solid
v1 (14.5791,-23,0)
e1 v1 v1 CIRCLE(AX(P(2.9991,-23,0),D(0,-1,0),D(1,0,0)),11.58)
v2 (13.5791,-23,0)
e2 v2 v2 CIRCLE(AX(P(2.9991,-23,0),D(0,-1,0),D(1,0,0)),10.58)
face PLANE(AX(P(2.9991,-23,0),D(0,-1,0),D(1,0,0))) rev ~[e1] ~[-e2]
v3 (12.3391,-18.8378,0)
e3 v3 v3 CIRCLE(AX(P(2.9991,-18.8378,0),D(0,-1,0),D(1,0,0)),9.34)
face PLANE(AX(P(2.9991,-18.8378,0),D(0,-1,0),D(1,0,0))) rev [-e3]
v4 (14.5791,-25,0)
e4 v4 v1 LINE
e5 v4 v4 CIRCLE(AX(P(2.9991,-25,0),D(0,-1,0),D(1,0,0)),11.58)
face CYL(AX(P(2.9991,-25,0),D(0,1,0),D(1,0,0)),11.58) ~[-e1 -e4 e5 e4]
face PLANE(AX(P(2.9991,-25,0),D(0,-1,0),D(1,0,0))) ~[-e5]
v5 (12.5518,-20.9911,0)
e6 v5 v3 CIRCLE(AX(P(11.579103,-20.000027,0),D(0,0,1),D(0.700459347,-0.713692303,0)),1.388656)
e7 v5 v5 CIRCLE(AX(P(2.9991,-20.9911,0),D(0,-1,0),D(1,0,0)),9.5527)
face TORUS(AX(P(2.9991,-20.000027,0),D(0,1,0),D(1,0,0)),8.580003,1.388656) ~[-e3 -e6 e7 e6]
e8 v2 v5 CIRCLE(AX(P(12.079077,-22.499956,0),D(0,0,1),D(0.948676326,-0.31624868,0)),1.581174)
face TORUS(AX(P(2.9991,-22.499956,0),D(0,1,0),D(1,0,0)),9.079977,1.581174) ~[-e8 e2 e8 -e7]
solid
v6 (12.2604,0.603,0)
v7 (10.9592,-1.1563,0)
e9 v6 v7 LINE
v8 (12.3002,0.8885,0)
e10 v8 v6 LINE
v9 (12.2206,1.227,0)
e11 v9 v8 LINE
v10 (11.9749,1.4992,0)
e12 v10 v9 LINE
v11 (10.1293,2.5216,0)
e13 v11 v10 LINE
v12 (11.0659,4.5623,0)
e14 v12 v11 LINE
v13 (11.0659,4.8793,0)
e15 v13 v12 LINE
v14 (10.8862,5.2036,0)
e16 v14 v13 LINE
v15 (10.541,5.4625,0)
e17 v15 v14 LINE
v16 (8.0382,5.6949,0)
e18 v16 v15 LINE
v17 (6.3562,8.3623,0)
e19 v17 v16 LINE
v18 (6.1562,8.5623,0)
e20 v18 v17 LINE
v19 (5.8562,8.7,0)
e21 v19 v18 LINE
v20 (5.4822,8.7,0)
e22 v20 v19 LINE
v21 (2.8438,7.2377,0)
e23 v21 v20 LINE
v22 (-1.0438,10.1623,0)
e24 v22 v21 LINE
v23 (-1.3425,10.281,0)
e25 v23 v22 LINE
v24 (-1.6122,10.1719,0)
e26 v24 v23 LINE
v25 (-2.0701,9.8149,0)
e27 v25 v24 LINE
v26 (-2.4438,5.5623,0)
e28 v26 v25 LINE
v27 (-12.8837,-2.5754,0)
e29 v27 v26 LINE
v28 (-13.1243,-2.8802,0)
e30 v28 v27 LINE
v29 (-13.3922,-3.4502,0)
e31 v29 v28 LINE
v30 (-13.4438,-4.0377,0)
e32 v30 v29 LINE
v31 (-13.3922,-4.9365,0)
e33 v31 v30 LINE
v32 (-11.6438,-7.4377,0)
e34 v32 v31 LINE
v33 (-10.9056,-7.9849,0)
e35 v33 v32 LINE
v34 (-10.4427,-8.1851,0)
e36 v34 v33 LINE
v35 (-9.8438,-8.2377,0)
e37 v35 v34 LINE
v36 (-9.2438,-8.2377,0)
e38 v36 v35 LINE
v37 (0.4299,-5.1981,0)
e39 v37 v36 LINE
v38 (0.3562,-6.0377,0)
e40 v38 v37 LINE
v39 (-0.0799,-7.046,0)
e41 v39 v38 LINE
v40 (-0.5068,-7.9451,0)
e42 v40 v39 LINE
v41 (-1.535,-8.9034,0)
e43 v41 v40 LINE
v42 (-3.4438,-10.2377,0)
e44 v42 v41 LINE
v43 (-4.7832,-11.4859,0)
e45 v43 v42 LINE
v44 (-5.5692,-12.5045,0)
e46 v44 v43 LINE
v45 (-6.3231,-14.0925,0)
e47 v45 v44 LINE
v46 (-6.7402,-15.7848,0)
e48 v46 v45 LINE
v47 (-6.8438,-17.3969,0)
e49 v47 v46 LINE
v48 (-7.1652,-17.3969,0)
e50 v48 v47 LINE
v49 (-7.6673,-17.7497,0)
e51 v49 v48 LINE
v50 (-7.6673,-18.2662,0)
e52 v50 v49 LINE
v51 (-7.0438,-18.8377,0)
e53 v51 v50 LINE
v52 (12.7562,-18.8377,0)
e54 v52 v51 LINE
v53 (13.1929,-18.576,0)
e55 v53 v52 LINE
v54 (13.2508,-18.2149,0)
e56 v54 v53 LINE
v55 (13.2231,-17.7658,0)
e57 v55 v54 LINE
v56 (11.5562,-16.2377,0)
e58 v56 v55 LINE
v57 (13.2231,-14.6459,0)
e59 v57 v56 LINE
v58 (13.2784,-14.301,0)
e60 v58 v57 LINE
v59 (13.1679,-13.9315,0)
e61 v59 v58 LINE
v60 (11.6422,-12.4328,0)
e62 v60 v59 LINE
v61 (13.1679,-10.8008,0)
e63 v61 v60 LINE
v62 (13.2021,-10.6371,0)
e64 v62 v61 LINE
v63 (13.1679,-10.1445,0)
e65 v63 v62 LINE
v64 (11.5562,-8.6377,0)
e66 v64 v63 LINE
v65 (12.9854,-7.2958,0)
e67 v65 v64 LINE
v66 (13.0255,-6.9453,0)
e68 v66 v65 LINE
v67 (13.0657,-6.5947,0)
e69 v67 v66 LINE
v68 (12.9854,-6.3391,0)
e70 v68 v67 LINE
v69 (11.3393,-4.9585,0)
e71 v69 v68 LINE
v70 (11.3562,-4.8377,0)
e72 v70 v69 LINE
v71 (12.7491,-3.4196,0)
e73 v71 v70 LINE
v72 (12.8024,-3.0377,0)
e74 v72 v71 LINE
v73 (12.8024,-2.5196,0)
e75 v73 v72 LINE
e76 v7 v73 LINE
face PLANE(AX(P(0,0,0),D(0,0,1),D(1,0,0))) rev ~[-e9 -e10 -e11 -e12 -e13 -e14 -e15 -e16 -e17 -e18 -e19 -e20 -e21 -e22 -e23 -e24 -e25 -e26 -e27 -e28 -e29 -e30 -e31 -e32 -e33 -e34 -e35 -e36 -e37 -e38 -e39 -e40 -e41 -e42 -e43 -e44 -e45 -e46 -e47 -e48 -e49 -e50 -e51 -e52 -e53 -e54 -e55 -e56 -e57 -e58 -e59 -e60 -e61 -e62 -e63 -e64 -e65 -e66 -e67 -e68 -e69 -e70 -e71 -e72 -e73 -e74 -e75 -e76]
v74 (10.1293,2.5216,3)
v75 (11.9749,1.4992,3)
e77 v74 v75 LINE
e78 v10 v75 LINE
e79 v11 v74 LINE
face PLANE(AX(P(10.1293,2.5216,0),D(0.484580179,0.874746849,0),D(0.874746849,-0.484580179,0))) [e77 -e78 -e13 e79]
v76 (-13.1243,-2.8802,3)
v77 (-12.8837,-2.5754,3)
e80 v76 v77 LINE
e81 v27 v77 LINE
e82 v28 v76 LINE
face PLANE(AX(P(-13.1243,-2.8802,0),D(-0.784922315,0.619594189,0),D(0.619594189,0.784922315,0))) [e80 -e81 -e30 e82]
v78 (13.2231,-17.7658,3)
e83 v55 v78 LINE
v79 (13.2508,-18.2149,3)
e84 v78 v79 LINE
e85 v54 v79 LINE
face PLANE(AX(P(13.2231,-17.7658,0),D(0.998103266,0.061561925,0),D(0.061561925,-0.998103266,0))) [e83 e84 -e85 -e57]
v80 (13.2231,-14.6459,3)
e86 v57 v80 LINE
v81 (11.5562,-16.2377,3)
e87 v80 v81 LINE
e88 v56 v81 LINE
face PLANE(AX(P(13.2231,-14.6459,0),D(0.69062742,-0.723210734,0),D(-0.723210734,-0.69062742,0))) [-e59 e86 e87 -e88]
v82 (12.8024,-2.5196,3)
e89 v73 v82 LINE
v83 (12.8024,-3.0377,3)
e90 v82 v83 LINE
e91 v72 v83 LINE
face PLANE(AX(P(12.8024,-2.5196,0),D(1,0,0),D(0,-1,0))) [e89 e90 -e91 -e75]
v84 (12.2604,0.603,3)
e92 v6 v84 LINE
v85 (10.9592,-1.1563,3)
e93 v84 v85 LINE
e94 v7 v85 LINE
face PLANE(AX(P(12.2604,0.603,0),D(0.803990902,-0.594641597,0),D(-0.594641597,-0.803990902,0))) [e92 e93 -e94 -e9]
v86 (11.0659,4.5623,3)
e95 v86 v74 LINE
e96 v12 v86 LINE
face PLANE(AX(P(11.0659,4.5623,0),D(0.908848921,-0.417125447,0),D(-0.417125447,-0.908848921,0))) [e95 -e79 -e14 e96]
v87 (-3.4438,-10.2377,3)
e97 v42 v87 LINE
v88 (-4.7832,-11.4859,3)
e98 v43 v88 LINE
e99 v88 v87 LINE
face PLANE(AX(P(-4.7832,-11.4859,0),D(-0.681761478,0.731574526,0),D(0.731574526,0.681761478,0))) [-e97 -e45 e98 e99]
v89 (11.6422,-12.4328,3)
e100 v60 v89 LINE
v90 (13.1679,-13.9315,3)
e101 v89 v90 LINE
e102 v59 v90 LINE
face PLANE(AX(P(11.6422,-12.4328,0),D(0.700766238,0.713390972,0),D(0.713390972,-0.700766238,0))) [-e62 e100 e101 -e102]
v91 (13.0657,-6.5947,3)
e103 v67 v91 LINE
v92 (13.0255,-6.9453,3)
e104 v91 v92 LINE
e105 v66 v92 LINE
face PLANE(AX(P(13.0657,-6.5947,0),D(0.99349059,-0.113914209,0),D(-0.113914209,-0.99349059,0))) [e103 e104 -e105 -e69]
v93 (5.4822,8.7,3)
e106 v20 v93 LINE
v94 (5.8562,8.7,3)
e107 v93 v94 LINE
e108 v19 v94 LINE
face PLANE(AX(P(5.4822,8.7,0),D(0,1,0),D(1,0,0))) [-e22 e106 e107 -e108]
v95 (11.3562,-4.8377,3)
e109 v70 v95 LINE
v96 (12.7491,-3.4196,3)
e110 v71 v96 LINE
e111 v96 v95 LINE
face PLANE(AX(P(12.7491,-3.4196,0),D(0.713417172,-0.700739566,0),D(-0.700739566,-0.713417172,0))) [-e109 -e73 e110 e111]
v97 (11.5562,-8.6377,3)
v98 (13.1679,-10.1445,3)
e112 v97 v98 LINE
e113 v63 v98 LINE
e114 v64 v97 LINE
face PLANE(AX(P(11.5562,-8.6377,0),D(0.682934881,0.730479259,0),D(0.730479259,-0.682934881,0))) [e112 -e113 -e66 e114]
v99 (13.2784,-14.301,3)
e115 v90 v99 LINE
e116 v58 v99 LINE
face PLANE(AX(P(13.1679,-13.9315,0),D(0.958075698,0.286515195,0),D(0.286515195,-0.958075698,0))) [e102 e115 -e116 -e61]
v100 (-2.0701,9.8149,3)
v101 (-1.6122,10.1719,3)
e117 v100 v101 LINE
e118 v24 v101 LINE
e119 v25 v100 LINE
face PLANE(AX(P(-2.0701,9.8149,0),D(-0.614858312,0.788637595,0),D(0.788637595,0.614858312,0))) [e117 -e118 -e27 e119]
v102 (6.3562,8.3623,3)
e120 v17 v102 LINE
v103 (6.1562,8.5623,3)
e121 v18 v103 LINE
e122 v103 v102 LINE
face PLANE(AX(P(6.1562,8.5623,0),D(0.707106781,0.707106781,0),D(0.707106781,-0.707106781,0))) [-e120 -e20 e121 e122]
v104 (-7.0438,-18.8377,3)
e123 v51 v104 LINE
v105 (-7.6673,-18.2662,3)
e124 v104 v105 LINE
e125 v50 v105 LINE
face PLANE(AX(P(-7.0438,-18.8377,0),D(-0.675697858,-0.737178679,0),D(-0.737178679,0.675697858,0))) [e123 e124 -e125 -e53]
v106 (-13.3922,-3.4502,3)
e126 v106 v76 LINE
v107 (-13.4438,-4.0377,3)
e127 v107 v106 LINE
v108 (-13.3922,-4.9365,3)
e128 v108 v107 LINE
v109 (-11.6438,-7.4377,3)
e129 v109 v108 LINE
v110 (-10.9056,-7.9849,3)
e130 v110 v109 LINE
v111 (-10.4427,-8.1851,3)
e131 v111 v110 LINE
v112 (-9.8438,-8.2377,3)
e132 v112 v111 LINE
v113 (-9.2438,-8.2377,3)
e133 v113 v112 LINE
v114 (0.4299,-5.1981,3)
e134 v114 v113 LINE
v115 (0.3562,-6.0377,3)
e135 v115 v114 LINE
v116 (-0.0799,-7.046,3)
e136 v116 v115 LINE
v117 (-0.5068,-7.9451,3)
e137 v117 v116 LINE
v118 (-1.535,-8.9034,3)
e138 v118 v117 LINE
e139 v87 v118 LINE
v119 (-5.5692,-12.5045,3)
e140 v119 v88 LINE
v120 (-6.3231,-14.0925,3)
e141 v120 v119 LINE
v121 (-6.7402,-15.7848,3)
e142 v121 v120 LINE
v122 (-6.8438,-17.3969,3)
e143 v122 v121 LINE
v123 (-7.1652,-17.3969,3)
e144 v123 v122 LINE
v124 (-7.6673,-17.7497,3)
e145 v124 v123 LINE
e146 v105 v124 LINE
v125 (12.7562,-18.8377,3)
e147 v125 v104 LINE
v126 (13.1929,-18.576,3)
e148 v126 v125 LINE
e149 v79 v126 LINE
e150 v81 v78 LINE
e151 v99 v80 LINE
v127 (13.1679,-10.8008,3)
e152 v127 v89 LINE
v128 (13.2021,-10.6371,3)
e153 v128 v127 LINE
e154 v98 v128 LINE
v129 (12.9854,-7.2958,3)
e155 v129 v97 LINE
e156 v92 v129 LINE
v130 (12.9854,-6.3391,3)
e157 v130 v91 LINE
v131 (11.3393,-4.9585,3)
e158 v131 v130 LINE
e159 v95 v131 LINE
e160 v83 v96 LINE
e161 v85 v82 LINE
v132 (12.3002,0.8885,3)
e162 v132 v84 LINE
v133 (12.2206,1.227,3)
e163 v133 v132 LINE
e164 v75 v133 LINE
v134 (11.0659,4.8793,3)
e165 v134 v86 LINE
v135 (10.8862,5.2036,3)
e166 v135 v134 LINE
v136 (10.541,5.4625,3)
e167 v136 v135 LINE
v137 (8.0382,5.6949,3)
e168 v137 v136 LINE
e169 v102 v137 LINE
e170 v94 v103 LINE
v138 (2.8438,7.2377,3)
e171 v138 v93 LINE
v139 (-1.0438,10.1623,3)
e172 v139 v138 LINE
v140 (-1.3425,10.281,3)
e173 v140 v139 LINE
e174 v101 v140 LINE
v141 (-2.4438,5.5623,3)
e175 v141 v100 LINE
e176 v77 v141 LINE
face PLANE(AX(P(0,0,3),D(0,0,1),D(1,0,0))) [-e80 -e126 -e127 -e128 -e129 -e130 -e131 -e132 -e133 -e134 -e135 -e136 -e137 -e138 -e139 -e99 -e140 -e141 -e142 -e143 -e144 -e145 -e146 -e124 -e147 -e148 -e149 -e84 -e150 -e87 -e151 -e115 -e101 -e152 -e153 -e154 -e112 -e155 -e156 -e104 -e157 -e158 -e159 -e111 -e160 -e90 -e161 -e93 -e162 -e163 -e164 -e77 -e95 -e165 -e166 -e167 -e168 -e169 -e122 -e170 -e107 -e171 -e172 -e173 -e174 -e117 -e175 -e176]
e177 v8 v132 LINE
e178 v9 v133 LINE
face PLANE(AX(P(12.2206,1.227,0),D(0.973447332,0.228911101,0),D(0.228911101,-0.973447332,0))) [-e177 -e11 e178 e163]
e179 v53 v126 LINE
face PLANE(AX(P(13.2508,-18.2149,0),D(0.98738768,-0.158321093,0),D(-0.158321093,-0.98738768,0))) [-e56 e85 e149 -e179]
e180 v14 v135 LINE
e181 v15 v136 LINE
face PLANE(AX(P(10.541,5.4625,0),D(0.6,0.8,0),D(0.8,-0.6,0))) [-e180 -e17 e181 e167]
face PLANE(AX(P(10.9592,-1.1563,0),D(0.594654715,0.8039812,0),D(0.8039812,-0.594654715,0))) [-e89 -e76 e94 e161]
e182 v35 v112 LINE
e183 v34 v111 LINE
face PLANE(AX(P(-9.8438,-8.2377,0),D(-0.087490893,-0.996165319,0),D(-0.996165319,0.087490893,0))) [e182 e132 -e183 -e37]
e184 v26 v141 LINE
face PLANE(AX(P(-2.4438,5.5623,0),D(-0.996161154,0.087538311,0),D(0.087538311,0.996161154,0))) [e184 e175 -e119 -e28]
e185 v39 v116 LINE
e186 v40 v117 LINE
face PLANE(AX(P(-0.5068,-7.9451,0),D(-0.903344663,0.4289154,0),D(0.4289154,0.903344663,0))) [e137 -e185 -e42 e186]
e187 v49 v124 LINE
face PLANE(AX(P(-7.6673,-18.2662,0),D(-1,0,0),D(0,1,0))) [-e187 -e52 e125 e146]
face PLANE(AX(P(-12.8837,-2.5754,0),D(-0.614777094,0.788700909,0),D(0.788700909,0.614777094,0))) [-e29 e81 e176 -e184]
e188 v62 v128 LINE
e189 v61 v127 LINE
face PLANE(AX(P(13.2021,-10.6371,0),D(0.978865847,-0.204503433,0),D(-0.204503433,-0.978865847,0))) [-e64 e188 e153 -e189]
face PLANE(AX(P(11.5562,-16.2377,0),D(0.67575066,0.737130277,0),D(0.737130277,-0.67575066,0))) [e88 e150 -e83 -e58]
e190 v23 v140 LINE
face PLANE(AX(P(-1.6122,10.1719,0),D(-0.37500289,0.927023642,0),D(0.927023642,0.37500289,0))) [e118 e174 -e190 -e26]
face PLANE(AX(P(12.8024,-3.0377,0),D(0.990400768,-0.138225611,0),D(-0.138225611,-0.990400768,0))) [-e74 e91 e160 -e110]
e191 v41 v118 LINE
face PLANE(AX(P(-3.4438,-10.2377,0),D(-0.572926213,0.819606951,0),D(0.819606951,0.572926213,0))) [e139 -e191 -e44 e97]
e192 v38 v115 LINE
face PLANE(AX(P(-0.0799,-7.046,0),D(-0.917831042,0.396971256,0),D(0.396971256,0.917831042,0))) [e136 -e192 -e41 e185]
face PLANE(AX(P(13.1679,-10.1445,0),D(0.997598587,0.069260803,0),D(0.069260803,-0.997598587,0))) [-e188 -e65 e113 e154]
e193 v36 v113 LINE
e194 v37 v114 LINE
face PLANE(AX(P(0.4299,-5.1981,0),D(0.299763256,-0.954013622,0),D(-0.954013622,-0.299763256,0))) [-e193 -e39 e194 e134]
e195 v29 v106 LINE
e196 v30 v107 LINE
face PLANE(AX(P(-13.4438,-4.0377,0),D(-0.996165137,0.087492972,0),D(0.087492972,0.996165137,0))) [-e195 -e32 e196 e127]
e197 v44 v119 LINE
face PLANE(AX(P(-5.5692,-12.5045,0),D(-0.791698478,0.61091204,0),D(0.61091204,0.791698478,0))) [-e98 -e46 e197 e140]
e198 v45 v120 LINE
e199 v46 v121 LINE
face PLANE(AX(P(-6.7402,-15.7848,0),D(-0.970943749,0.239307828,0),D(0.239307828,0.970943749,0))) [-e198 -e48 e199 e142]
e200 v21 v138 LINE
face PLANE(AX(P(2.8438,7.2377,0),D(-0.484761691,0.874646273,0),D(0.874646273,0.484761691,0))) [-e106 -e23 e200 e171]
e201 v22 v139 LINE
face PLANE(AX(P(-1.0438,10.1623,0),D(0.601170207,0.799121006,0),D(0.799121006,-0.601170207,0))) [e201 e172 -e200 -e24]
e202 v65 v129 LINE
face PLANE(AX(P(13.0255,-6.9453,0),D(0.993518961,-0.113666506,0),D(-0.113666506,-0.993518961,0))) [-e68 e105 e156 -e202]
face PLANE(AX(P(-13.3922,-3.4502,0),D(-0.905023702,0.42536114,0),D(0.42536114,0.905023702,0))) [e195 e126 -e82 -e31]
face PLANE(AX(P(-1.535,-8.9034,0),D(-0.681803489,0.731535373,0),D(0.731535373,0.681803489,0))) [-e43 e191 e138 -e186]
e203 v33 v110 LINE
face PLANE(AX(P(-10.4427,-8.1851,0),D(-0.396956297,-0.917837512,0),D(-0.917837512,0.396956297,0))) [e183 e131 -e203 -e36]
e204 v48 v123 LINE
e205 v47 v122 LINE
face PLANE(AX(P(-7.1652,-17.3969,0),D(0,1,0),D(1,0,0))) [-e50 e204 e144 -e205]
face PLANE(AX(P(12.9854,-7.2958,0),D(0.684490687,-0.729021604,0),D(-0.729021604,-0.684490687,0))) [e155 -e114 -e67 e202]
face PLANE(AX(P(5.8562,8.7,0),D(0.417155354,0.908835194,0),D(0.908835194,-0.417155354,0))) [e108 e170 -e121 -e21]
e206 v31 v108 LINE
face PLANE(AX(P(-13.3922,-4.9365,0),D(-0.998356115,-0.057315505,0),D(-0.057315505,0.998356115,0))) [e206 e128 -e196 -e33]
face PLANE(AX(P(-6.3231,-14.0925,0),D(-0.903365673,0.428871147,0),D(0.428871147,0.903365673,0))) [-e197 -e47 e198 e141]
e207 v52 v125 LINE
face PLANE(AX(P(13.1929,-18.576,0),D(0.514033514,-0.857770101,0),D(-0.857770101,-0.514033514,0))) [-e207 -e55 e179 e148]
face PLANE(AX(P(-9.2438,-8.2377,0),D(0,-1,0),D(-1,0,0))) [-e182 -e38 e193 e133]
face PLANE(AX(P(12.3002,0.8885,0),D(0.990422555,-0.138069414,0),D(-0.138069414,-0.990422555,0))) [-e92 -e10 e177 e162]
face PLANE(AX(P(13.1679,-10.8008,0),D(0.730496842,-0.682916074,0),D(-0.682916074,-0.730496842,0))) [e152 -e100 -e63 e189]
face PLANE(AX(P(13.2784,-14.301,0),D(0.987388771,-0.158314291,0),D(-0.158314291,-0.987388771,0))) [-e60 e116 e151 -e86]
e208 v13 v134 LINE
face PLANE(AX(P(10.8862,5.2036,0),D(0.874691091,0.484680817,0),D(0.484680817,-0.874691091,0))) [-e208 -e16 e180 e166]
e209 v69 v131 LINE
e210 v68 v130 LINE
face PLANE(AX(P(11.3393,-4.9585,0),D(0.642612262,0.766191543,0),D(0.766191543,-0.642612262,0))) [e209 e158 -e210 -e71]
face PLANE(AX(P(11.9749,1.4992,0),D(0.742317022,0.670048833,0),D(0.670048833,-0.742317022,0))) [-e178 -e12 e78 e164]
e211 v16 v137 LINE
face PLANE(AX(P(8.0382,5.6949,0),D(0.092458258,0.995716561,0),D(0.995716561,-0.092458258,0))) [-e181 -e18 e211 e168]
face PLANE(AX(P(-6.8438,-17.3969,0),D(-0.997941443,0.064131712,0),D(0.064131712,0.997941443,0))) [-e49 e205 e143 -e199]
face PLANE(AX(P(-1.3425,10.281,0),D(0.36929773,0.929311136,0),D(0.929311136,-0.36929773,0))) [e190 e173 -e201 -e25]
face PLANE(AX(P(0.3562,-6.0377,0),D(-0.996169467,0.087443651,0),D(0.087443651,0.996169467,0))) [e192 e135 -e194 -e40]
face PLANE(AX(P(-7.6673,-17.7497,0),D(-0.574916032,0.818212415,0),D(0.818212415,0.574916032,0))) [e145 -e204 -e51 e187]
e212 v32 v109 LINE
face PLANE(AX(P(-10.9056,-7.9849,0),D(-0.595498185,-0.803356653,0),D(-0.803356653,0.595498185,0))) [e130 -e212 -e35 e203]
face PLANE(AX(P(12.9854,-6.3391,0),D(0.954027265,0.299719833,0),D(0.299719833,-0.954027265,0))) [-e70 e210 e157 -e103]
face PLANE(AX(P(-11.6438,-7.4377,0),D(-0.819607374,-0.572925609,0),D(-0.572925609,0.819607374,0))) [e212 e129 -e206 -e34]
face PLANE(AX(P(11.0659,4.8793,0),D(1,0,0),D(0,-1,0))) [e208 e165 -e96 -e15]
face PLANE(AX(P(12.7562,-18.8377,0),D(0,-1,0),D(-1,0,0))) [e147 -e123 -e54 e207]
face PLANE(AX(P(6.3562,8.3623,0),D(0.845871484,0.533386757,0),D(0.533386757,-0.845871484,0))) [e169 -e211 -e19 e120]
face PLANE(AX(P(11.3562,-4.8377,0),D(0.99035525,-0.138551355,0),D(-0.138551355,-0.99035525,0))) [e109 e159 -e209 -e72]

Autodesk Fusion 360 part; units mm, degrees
sketch "Sketch1" plane through (0, 0, 0) normal (0, 0, 1) x (1, 0, 0)
  line L0 (-1.0438, 10.1623) -> (2.8438, 7.2377)
  line L1 (2.8438, 7.2377) -> (5.4822, 8.7)
  line L2 (5.4822, 8.7) -> (5.8562, 8.7)
  line L3 (5.8562, 8.7) -> (6.1562, 8.5623)
  line L4 (6.1562, 8.5623) -> (6.3562, 8.3623)
  line L5 (6.3562, 8.3623) -> (8.0382, 5.6949)
  line L6 (8.0382, 5.6949) -> (10.541, 5.4625)
  line L7 (10.541, 5.4625) -> (10.8862, 5.2036)
  line L8 (10.8862, 5.2036) -> (11.0659, 4.8793)
  line L9 (11.0659, 4.8793) -> (11.0659, 4.5623)
  line L10 (11.0659, 4.5623) -> (10.1293, 2.5216)
  line L11 (10.1293, 2.5216) -> (11.9749, 1.4992)
  line L12 (11.9749, 1.4992) -> (12.2206, 1.227)
  line L13 (12.2206, 1.227) -> (12.3002, 0.8885)
  line L14 (12.3002, 0.8885) -> (12.2604, 0.603)
  line L15 (12.2604, 0.603) -> (10.9592, -1.1563)
  line L16 (10.9592, -1.1563) -> (12.8024, -2.5196)
  line L17 (12.8024, -2.5196) -> (12.8024, -3.0377)
  line L18 (12.8024, -3.0377) -> (12.7491, -3.4196)
  line L19 (12.7491, -3.4196) -> (11.3562, -4.8377)
  line L20 (11.3562, -4.8377) -> (11.3393, -4.9585)
  line L21 (11.3393, -4.9585) -> (12.9854, -6.3391)
  line L22 (12.9854, -6.3391) -> (13.0657, -6.5947)
  line L23 (13.0657, -6.5947) -> (13.0255, -6.9453)
  line L24 (13.0255, -6.9453) -> (12.9854, -7.2958)
  line L25 (12.9854, -7.2958) -> (11.5562, -8.6377)
  line L26 (11.5562, -8.6377) -> (13.1679, -10.1445)
  line L27 (13.1679, -10.1445) -> (13.2021, -10.6371)
  line L28 (13.2021, -10.6371) -> (13.1679, -10.8008)
  line L29 (13.1679, -10.8008) -> (11.6422, -12.4328)
  line L30 (11.6422, -12.4328) -> (13.1679, -13.9315)
  line L31 (13.1679, -13.9315) -> (13.2784, -14.301)
  line L32 (13.2784, -14.301) -> (13.2231, -14.6459)
  line L33 (13.2231, -14.6459) -> (11.5562, -16.2377)
  line L34 (11.5562, -16.2377) -> (13.2231, -17.7658)
  line L35 (13.2231, -17.7658) -> (13.2508, -18.2149)
  line L36 (13.2508, -18.2149) -> (13.1929, -18.576)
  line L37 (13.1929, -18.576) -> (12.7562, -18.8377)
  line L38 (12.7562, -18.8377) -> (-7.0438, -18.8377)
  line L39 (-7.0438, -18.8377) -> (-7.6673, -18.2662)
  line L40 (-7.6673, -18.2662) -> (-7.6673, -17.7497)
  line L41 (-7.6673, -17.7497) -> (-7.1652, -17.3969)
  line L42 (-7.1652, -17.3969) -> (-6.8438, -17.3969)
  line L43 (-6.8438, -17.3969) -> (-6.7402, -15.7848)
  line L44 (-6.7402, -15.7848) -> (-6.3231, -14.0925)
  line L45 (-6.3231, -14.0925) -> (-5.5692, -12.5045)
  line L46 (-5.5692, -12.5045) -> (-4.7832, -11.4859)
  line L47 (-4.7832, -11.4859) -> (-3.4438, -10.2377)
  line L48 (-3.4438, -10.2377) -> (-1.535, -8.9034)
  line L49 (-1.535, -8.9034) -> (-0.5068, -7.9451)
  line L50 (-0.5068, -7.9451) -> (-0.0799, -7.046)
  line L51 (-0.0799, -7.046) -> (0.3562, -6.0377)
  line L52 (0.3562, -6.0377) -> (0.4299, -5.1981)
  line L53 (0.4299, -5.1981) -> (-9.2438, -8.2377)
  line L54 (-9.2438, -8.2377) -> (-9.8438, -8.2377)
  line L55 (-9.8438, -8.2377) -> (-10.4427, -8.1851)
  line L56 (-10.4427, -8.1851) -> (-10.9056, -7.9849)
  line L57 (-10.9056, -7.9849) -> (-11.6438, -7.4377)
  line L58 (-11.6438, -7.4377) -> (-13.3922, -4.9365)
  line L59 (-13.3922, -4.9365) -> (-13.4438, -4.0377)
  line L60 (-13.4438, -4.0377) -> (-13.3922, -3.4502)
  line L61 (-13.3922, -3.4502) -> (-13.1243, -2.8802)
  line L62 (-13.1243, -2.8802) -> (-12.8837, -2.5754)
  line L63 (-12.8837, -2.5754) -> (-2.4438, 5.5623)
  line L64 (-2.4438, 5.5623) -> (-2.0701, 9.8149)
  line L65 (-2.0701, 9.8149) -> (-1.6122, 10.1719)
  line L66 (-1.6122, 10.1719) -> (-1.3425, 10.281)
  line L67 (-1.3425, 10.281) -> (-1.0438, 10.1623)
extrude "Extrude1" add sketch "Sketch1" along normal blind 3 makes body 1
sketch "Sketch2" plane through (0, 0, 3) normal (0, 0, 1) x (-1, 0, 0)
  line L0 (1.3425, -10.281) -> (1.6122, -10.1719)
  line L1 (1.6122, -10.1719) -> (2.0701, -9.8149)
  line L2 (2.0701, -9.8149) -> (2.4438, -5.5623)
  line L3 (2.4438, -5.5623) -> (12.8837, 2.5754)
  line L4 (12.8837, 2.5754) -> (13.1243, 2.8802)
  line L5 (13.1243, 2.8802) -> (13.3922, 3.4502)
  line L6 (13.3922, 3.4502) -> (13.4438, 4.0377)
  line L7 (13.4438, 4.0377) -> (13.3922, 4.9365)
  line L8 (13.3922, 4.9365) -> (11.6438, 7.4377)
  line L9 (11.6438, 7.4377) -> (10.9056, 7.9849)
  line L10 (10.9056, 7.9849) -> (10.4427, 8.1851)
  line L11 (10.4427, 8.1851) -> (9.8438, 8.2377)
  line L12 (9.8438, 8.2377) -> (9.2438, 8.2377)
  line L13 (9.2438, 8.2377) -> (-0.4299, 5.1981)
  line L14 (-0.4299, 5.1981) -> (-0.3562, 6.0377)
  line L15 (-0.3562, 6.0377) -> (0.0799, 7.046)
  line L16 (0.0799, 7.046) -> (0.5068, 7.9451)
  line L17 (0.5068, 7.9451) -> (1.535, 8.9034)
  line L18 (1.535, 8.9034) -> (3.4438, 10.2377)
  line L19 (3.4438, 10.2377) -> (4.7832, 11.4859)
  line L20 (4.7832, 11.4859) -> (5.5692, 12.5045)
  line L21 (5.5692, 12.5045) -> (6.3231, 14.0925)
  line L22 (6.3231, 14.0925) -> (6.7402, 15.7848)
  line L23 (6.7402, 15.7848) -> (6.8438, 17.3969)
  line L24 (6.8438, 17.3969) -> (7.1652, 17.3969)
  line L25 (7.1652, 17.3969) -> (7.6673, 17.7497)
  line L26 (7.6673, 17.7497) -> (7.6673, 18.2662)
  line L27 (7.6673, 18.2662) -> (7.0438, 18.8377)
  line L28 (7.0438, 18.8377) -> (-12.7562, 18.8377)
  line L29 (-12.7562, 18.8377) -> (-13.1929, 18.576)
  line L30 (-13.1929, 18.576) -> (-13.2508, 18.2149)
  line L31 (-13.2508, 18.2149) -> (-13.2231, 17.7658)
  line L32 (-13.2231, 17.7658) -> (-11.5562, 16.2377)
  line L33 (-11.5562, 16.2377) -> (-13.2231, 14.6459)
  line L34 (-13.2231, 14.6459) -> (-13.2784, 14.301)
  line L35 (-13.2784, 14.301) -> (-13.1679, 13.9315)
  line L36 (-13.1679, 13.9315) -> (-11.6422, 12.4328)
  line L37 (-11.6422, 12.4328) -> (-13.1679, 10.8008)
  line L38 (-13.1679, 10.8008) -> (-13.2021, 10.6371)
  line L39 (-13.2021, 10.6371) -> (-13.1679, 10.1445)
  line L40 (-13.1679, 10.1445) -> (-11.5562, 8.6377)
  line L41 (-11.5562, 8.6377) -> (-12.9854, 7.2958)
  line L42 (-12.9854, 7.2958) -> (-13.0657, 6.5947)
  line L43 (-13.0657, 6.5947) -> (-12.9854, 6.3391)
  line L44 (-12.9854, 6.3391) -> (-11.3393, 4.9585)
  line L45 (-11.3393, 4.9585) -> (-11.3562, 4.8377)
  line L46 (-11.3562, 4.8377) -> (-12.7491, 3.4196)
  line L47 (-12.7491, 3.4196) -> (-12.8024, 3.0377)
  line L48 (-12.8024, 3.0377) -> (-12.8024, 2.5196)
  line L49 (-12.8024, 2.5196) -> (-10.9592, 1.1563)
  line L50 (-10.9592, 1.1563) -> (-12.2604, -0.603)
  line L51 (-12.2604, -0.603) -> (-12.3002, -0.8885)
  line L52 (-12.3002, -0.8885) -> (-12.2206, -1.227)
  line L53 (-12.2206, -1.227) -> (-11.9749, -1.4992)
  line L54 (-11.9749, -1.4992) -> (-10.1293, -2.5216)
  line L55 (-10.1293, -2.5216) -> (-11.0659, -4.5623)
  line L56 (-11.0659, -4.5623) -> (-11.0659, -4.8793)
  line L57 (-11.0659, -4.8793) -> (-10.8862, -5.2036)
  line L58 (-10.8862, -5.2036) -> (-10.541, -5.4625)
  line L59 (-10.541, -5.4625) -> (-8.0382, -5.6949)
  line L60 (-8.0382, -5.6949) -> (-6.3562, -8.3623)
  line L61 (-6.3562, -8.3623) -> (-6.1562, -8.5623)
  line L62 (-6.1562, -8.5623) -> (-5.8562, -8.7)
  line L63 (-5.8562, -8.7) -> (-5.4822, -8.7)
  line L64 (-5.4822, -8.7) -> (-2.8438, -7.2377)
  line L65 (-2.8438, -7.2377) -> (1.0438, -10.1623)
  line L66 (1.0438, -10.1623) -> (1.3425, -10.281)
sketch "Sketch3" plane through (0, 0, 0) normal (0, 0, 1) x (1, 0, 0)
  line L0 (2.9991, -18.8378) -> (2.9991, -25)
  line L1 (2.9991, -25) -> (14.5791, -25)
  line L2 (14.5791, -25) -> (14.5791, -23)
  line L3 (14.5791, -23) -> (13.5791, -23)
  line L4 (2.9991, -18.8378) -> (12.3391, -18.8378)
  arc A0 (12.5518, -20.9911) -> (12.3391, -18.8378) centre (11.5791, -20) ccw
  arc A1 (13.5791, -23) -> (12.5518, -20.9911) centre (12.0791, -22.5) ccw
revolve "Revolve1" add sketch "Sketch3" angle 360 about axis through (2.9991, -18.8378, 0) along (0, -1, 0) separate body makes body 2
